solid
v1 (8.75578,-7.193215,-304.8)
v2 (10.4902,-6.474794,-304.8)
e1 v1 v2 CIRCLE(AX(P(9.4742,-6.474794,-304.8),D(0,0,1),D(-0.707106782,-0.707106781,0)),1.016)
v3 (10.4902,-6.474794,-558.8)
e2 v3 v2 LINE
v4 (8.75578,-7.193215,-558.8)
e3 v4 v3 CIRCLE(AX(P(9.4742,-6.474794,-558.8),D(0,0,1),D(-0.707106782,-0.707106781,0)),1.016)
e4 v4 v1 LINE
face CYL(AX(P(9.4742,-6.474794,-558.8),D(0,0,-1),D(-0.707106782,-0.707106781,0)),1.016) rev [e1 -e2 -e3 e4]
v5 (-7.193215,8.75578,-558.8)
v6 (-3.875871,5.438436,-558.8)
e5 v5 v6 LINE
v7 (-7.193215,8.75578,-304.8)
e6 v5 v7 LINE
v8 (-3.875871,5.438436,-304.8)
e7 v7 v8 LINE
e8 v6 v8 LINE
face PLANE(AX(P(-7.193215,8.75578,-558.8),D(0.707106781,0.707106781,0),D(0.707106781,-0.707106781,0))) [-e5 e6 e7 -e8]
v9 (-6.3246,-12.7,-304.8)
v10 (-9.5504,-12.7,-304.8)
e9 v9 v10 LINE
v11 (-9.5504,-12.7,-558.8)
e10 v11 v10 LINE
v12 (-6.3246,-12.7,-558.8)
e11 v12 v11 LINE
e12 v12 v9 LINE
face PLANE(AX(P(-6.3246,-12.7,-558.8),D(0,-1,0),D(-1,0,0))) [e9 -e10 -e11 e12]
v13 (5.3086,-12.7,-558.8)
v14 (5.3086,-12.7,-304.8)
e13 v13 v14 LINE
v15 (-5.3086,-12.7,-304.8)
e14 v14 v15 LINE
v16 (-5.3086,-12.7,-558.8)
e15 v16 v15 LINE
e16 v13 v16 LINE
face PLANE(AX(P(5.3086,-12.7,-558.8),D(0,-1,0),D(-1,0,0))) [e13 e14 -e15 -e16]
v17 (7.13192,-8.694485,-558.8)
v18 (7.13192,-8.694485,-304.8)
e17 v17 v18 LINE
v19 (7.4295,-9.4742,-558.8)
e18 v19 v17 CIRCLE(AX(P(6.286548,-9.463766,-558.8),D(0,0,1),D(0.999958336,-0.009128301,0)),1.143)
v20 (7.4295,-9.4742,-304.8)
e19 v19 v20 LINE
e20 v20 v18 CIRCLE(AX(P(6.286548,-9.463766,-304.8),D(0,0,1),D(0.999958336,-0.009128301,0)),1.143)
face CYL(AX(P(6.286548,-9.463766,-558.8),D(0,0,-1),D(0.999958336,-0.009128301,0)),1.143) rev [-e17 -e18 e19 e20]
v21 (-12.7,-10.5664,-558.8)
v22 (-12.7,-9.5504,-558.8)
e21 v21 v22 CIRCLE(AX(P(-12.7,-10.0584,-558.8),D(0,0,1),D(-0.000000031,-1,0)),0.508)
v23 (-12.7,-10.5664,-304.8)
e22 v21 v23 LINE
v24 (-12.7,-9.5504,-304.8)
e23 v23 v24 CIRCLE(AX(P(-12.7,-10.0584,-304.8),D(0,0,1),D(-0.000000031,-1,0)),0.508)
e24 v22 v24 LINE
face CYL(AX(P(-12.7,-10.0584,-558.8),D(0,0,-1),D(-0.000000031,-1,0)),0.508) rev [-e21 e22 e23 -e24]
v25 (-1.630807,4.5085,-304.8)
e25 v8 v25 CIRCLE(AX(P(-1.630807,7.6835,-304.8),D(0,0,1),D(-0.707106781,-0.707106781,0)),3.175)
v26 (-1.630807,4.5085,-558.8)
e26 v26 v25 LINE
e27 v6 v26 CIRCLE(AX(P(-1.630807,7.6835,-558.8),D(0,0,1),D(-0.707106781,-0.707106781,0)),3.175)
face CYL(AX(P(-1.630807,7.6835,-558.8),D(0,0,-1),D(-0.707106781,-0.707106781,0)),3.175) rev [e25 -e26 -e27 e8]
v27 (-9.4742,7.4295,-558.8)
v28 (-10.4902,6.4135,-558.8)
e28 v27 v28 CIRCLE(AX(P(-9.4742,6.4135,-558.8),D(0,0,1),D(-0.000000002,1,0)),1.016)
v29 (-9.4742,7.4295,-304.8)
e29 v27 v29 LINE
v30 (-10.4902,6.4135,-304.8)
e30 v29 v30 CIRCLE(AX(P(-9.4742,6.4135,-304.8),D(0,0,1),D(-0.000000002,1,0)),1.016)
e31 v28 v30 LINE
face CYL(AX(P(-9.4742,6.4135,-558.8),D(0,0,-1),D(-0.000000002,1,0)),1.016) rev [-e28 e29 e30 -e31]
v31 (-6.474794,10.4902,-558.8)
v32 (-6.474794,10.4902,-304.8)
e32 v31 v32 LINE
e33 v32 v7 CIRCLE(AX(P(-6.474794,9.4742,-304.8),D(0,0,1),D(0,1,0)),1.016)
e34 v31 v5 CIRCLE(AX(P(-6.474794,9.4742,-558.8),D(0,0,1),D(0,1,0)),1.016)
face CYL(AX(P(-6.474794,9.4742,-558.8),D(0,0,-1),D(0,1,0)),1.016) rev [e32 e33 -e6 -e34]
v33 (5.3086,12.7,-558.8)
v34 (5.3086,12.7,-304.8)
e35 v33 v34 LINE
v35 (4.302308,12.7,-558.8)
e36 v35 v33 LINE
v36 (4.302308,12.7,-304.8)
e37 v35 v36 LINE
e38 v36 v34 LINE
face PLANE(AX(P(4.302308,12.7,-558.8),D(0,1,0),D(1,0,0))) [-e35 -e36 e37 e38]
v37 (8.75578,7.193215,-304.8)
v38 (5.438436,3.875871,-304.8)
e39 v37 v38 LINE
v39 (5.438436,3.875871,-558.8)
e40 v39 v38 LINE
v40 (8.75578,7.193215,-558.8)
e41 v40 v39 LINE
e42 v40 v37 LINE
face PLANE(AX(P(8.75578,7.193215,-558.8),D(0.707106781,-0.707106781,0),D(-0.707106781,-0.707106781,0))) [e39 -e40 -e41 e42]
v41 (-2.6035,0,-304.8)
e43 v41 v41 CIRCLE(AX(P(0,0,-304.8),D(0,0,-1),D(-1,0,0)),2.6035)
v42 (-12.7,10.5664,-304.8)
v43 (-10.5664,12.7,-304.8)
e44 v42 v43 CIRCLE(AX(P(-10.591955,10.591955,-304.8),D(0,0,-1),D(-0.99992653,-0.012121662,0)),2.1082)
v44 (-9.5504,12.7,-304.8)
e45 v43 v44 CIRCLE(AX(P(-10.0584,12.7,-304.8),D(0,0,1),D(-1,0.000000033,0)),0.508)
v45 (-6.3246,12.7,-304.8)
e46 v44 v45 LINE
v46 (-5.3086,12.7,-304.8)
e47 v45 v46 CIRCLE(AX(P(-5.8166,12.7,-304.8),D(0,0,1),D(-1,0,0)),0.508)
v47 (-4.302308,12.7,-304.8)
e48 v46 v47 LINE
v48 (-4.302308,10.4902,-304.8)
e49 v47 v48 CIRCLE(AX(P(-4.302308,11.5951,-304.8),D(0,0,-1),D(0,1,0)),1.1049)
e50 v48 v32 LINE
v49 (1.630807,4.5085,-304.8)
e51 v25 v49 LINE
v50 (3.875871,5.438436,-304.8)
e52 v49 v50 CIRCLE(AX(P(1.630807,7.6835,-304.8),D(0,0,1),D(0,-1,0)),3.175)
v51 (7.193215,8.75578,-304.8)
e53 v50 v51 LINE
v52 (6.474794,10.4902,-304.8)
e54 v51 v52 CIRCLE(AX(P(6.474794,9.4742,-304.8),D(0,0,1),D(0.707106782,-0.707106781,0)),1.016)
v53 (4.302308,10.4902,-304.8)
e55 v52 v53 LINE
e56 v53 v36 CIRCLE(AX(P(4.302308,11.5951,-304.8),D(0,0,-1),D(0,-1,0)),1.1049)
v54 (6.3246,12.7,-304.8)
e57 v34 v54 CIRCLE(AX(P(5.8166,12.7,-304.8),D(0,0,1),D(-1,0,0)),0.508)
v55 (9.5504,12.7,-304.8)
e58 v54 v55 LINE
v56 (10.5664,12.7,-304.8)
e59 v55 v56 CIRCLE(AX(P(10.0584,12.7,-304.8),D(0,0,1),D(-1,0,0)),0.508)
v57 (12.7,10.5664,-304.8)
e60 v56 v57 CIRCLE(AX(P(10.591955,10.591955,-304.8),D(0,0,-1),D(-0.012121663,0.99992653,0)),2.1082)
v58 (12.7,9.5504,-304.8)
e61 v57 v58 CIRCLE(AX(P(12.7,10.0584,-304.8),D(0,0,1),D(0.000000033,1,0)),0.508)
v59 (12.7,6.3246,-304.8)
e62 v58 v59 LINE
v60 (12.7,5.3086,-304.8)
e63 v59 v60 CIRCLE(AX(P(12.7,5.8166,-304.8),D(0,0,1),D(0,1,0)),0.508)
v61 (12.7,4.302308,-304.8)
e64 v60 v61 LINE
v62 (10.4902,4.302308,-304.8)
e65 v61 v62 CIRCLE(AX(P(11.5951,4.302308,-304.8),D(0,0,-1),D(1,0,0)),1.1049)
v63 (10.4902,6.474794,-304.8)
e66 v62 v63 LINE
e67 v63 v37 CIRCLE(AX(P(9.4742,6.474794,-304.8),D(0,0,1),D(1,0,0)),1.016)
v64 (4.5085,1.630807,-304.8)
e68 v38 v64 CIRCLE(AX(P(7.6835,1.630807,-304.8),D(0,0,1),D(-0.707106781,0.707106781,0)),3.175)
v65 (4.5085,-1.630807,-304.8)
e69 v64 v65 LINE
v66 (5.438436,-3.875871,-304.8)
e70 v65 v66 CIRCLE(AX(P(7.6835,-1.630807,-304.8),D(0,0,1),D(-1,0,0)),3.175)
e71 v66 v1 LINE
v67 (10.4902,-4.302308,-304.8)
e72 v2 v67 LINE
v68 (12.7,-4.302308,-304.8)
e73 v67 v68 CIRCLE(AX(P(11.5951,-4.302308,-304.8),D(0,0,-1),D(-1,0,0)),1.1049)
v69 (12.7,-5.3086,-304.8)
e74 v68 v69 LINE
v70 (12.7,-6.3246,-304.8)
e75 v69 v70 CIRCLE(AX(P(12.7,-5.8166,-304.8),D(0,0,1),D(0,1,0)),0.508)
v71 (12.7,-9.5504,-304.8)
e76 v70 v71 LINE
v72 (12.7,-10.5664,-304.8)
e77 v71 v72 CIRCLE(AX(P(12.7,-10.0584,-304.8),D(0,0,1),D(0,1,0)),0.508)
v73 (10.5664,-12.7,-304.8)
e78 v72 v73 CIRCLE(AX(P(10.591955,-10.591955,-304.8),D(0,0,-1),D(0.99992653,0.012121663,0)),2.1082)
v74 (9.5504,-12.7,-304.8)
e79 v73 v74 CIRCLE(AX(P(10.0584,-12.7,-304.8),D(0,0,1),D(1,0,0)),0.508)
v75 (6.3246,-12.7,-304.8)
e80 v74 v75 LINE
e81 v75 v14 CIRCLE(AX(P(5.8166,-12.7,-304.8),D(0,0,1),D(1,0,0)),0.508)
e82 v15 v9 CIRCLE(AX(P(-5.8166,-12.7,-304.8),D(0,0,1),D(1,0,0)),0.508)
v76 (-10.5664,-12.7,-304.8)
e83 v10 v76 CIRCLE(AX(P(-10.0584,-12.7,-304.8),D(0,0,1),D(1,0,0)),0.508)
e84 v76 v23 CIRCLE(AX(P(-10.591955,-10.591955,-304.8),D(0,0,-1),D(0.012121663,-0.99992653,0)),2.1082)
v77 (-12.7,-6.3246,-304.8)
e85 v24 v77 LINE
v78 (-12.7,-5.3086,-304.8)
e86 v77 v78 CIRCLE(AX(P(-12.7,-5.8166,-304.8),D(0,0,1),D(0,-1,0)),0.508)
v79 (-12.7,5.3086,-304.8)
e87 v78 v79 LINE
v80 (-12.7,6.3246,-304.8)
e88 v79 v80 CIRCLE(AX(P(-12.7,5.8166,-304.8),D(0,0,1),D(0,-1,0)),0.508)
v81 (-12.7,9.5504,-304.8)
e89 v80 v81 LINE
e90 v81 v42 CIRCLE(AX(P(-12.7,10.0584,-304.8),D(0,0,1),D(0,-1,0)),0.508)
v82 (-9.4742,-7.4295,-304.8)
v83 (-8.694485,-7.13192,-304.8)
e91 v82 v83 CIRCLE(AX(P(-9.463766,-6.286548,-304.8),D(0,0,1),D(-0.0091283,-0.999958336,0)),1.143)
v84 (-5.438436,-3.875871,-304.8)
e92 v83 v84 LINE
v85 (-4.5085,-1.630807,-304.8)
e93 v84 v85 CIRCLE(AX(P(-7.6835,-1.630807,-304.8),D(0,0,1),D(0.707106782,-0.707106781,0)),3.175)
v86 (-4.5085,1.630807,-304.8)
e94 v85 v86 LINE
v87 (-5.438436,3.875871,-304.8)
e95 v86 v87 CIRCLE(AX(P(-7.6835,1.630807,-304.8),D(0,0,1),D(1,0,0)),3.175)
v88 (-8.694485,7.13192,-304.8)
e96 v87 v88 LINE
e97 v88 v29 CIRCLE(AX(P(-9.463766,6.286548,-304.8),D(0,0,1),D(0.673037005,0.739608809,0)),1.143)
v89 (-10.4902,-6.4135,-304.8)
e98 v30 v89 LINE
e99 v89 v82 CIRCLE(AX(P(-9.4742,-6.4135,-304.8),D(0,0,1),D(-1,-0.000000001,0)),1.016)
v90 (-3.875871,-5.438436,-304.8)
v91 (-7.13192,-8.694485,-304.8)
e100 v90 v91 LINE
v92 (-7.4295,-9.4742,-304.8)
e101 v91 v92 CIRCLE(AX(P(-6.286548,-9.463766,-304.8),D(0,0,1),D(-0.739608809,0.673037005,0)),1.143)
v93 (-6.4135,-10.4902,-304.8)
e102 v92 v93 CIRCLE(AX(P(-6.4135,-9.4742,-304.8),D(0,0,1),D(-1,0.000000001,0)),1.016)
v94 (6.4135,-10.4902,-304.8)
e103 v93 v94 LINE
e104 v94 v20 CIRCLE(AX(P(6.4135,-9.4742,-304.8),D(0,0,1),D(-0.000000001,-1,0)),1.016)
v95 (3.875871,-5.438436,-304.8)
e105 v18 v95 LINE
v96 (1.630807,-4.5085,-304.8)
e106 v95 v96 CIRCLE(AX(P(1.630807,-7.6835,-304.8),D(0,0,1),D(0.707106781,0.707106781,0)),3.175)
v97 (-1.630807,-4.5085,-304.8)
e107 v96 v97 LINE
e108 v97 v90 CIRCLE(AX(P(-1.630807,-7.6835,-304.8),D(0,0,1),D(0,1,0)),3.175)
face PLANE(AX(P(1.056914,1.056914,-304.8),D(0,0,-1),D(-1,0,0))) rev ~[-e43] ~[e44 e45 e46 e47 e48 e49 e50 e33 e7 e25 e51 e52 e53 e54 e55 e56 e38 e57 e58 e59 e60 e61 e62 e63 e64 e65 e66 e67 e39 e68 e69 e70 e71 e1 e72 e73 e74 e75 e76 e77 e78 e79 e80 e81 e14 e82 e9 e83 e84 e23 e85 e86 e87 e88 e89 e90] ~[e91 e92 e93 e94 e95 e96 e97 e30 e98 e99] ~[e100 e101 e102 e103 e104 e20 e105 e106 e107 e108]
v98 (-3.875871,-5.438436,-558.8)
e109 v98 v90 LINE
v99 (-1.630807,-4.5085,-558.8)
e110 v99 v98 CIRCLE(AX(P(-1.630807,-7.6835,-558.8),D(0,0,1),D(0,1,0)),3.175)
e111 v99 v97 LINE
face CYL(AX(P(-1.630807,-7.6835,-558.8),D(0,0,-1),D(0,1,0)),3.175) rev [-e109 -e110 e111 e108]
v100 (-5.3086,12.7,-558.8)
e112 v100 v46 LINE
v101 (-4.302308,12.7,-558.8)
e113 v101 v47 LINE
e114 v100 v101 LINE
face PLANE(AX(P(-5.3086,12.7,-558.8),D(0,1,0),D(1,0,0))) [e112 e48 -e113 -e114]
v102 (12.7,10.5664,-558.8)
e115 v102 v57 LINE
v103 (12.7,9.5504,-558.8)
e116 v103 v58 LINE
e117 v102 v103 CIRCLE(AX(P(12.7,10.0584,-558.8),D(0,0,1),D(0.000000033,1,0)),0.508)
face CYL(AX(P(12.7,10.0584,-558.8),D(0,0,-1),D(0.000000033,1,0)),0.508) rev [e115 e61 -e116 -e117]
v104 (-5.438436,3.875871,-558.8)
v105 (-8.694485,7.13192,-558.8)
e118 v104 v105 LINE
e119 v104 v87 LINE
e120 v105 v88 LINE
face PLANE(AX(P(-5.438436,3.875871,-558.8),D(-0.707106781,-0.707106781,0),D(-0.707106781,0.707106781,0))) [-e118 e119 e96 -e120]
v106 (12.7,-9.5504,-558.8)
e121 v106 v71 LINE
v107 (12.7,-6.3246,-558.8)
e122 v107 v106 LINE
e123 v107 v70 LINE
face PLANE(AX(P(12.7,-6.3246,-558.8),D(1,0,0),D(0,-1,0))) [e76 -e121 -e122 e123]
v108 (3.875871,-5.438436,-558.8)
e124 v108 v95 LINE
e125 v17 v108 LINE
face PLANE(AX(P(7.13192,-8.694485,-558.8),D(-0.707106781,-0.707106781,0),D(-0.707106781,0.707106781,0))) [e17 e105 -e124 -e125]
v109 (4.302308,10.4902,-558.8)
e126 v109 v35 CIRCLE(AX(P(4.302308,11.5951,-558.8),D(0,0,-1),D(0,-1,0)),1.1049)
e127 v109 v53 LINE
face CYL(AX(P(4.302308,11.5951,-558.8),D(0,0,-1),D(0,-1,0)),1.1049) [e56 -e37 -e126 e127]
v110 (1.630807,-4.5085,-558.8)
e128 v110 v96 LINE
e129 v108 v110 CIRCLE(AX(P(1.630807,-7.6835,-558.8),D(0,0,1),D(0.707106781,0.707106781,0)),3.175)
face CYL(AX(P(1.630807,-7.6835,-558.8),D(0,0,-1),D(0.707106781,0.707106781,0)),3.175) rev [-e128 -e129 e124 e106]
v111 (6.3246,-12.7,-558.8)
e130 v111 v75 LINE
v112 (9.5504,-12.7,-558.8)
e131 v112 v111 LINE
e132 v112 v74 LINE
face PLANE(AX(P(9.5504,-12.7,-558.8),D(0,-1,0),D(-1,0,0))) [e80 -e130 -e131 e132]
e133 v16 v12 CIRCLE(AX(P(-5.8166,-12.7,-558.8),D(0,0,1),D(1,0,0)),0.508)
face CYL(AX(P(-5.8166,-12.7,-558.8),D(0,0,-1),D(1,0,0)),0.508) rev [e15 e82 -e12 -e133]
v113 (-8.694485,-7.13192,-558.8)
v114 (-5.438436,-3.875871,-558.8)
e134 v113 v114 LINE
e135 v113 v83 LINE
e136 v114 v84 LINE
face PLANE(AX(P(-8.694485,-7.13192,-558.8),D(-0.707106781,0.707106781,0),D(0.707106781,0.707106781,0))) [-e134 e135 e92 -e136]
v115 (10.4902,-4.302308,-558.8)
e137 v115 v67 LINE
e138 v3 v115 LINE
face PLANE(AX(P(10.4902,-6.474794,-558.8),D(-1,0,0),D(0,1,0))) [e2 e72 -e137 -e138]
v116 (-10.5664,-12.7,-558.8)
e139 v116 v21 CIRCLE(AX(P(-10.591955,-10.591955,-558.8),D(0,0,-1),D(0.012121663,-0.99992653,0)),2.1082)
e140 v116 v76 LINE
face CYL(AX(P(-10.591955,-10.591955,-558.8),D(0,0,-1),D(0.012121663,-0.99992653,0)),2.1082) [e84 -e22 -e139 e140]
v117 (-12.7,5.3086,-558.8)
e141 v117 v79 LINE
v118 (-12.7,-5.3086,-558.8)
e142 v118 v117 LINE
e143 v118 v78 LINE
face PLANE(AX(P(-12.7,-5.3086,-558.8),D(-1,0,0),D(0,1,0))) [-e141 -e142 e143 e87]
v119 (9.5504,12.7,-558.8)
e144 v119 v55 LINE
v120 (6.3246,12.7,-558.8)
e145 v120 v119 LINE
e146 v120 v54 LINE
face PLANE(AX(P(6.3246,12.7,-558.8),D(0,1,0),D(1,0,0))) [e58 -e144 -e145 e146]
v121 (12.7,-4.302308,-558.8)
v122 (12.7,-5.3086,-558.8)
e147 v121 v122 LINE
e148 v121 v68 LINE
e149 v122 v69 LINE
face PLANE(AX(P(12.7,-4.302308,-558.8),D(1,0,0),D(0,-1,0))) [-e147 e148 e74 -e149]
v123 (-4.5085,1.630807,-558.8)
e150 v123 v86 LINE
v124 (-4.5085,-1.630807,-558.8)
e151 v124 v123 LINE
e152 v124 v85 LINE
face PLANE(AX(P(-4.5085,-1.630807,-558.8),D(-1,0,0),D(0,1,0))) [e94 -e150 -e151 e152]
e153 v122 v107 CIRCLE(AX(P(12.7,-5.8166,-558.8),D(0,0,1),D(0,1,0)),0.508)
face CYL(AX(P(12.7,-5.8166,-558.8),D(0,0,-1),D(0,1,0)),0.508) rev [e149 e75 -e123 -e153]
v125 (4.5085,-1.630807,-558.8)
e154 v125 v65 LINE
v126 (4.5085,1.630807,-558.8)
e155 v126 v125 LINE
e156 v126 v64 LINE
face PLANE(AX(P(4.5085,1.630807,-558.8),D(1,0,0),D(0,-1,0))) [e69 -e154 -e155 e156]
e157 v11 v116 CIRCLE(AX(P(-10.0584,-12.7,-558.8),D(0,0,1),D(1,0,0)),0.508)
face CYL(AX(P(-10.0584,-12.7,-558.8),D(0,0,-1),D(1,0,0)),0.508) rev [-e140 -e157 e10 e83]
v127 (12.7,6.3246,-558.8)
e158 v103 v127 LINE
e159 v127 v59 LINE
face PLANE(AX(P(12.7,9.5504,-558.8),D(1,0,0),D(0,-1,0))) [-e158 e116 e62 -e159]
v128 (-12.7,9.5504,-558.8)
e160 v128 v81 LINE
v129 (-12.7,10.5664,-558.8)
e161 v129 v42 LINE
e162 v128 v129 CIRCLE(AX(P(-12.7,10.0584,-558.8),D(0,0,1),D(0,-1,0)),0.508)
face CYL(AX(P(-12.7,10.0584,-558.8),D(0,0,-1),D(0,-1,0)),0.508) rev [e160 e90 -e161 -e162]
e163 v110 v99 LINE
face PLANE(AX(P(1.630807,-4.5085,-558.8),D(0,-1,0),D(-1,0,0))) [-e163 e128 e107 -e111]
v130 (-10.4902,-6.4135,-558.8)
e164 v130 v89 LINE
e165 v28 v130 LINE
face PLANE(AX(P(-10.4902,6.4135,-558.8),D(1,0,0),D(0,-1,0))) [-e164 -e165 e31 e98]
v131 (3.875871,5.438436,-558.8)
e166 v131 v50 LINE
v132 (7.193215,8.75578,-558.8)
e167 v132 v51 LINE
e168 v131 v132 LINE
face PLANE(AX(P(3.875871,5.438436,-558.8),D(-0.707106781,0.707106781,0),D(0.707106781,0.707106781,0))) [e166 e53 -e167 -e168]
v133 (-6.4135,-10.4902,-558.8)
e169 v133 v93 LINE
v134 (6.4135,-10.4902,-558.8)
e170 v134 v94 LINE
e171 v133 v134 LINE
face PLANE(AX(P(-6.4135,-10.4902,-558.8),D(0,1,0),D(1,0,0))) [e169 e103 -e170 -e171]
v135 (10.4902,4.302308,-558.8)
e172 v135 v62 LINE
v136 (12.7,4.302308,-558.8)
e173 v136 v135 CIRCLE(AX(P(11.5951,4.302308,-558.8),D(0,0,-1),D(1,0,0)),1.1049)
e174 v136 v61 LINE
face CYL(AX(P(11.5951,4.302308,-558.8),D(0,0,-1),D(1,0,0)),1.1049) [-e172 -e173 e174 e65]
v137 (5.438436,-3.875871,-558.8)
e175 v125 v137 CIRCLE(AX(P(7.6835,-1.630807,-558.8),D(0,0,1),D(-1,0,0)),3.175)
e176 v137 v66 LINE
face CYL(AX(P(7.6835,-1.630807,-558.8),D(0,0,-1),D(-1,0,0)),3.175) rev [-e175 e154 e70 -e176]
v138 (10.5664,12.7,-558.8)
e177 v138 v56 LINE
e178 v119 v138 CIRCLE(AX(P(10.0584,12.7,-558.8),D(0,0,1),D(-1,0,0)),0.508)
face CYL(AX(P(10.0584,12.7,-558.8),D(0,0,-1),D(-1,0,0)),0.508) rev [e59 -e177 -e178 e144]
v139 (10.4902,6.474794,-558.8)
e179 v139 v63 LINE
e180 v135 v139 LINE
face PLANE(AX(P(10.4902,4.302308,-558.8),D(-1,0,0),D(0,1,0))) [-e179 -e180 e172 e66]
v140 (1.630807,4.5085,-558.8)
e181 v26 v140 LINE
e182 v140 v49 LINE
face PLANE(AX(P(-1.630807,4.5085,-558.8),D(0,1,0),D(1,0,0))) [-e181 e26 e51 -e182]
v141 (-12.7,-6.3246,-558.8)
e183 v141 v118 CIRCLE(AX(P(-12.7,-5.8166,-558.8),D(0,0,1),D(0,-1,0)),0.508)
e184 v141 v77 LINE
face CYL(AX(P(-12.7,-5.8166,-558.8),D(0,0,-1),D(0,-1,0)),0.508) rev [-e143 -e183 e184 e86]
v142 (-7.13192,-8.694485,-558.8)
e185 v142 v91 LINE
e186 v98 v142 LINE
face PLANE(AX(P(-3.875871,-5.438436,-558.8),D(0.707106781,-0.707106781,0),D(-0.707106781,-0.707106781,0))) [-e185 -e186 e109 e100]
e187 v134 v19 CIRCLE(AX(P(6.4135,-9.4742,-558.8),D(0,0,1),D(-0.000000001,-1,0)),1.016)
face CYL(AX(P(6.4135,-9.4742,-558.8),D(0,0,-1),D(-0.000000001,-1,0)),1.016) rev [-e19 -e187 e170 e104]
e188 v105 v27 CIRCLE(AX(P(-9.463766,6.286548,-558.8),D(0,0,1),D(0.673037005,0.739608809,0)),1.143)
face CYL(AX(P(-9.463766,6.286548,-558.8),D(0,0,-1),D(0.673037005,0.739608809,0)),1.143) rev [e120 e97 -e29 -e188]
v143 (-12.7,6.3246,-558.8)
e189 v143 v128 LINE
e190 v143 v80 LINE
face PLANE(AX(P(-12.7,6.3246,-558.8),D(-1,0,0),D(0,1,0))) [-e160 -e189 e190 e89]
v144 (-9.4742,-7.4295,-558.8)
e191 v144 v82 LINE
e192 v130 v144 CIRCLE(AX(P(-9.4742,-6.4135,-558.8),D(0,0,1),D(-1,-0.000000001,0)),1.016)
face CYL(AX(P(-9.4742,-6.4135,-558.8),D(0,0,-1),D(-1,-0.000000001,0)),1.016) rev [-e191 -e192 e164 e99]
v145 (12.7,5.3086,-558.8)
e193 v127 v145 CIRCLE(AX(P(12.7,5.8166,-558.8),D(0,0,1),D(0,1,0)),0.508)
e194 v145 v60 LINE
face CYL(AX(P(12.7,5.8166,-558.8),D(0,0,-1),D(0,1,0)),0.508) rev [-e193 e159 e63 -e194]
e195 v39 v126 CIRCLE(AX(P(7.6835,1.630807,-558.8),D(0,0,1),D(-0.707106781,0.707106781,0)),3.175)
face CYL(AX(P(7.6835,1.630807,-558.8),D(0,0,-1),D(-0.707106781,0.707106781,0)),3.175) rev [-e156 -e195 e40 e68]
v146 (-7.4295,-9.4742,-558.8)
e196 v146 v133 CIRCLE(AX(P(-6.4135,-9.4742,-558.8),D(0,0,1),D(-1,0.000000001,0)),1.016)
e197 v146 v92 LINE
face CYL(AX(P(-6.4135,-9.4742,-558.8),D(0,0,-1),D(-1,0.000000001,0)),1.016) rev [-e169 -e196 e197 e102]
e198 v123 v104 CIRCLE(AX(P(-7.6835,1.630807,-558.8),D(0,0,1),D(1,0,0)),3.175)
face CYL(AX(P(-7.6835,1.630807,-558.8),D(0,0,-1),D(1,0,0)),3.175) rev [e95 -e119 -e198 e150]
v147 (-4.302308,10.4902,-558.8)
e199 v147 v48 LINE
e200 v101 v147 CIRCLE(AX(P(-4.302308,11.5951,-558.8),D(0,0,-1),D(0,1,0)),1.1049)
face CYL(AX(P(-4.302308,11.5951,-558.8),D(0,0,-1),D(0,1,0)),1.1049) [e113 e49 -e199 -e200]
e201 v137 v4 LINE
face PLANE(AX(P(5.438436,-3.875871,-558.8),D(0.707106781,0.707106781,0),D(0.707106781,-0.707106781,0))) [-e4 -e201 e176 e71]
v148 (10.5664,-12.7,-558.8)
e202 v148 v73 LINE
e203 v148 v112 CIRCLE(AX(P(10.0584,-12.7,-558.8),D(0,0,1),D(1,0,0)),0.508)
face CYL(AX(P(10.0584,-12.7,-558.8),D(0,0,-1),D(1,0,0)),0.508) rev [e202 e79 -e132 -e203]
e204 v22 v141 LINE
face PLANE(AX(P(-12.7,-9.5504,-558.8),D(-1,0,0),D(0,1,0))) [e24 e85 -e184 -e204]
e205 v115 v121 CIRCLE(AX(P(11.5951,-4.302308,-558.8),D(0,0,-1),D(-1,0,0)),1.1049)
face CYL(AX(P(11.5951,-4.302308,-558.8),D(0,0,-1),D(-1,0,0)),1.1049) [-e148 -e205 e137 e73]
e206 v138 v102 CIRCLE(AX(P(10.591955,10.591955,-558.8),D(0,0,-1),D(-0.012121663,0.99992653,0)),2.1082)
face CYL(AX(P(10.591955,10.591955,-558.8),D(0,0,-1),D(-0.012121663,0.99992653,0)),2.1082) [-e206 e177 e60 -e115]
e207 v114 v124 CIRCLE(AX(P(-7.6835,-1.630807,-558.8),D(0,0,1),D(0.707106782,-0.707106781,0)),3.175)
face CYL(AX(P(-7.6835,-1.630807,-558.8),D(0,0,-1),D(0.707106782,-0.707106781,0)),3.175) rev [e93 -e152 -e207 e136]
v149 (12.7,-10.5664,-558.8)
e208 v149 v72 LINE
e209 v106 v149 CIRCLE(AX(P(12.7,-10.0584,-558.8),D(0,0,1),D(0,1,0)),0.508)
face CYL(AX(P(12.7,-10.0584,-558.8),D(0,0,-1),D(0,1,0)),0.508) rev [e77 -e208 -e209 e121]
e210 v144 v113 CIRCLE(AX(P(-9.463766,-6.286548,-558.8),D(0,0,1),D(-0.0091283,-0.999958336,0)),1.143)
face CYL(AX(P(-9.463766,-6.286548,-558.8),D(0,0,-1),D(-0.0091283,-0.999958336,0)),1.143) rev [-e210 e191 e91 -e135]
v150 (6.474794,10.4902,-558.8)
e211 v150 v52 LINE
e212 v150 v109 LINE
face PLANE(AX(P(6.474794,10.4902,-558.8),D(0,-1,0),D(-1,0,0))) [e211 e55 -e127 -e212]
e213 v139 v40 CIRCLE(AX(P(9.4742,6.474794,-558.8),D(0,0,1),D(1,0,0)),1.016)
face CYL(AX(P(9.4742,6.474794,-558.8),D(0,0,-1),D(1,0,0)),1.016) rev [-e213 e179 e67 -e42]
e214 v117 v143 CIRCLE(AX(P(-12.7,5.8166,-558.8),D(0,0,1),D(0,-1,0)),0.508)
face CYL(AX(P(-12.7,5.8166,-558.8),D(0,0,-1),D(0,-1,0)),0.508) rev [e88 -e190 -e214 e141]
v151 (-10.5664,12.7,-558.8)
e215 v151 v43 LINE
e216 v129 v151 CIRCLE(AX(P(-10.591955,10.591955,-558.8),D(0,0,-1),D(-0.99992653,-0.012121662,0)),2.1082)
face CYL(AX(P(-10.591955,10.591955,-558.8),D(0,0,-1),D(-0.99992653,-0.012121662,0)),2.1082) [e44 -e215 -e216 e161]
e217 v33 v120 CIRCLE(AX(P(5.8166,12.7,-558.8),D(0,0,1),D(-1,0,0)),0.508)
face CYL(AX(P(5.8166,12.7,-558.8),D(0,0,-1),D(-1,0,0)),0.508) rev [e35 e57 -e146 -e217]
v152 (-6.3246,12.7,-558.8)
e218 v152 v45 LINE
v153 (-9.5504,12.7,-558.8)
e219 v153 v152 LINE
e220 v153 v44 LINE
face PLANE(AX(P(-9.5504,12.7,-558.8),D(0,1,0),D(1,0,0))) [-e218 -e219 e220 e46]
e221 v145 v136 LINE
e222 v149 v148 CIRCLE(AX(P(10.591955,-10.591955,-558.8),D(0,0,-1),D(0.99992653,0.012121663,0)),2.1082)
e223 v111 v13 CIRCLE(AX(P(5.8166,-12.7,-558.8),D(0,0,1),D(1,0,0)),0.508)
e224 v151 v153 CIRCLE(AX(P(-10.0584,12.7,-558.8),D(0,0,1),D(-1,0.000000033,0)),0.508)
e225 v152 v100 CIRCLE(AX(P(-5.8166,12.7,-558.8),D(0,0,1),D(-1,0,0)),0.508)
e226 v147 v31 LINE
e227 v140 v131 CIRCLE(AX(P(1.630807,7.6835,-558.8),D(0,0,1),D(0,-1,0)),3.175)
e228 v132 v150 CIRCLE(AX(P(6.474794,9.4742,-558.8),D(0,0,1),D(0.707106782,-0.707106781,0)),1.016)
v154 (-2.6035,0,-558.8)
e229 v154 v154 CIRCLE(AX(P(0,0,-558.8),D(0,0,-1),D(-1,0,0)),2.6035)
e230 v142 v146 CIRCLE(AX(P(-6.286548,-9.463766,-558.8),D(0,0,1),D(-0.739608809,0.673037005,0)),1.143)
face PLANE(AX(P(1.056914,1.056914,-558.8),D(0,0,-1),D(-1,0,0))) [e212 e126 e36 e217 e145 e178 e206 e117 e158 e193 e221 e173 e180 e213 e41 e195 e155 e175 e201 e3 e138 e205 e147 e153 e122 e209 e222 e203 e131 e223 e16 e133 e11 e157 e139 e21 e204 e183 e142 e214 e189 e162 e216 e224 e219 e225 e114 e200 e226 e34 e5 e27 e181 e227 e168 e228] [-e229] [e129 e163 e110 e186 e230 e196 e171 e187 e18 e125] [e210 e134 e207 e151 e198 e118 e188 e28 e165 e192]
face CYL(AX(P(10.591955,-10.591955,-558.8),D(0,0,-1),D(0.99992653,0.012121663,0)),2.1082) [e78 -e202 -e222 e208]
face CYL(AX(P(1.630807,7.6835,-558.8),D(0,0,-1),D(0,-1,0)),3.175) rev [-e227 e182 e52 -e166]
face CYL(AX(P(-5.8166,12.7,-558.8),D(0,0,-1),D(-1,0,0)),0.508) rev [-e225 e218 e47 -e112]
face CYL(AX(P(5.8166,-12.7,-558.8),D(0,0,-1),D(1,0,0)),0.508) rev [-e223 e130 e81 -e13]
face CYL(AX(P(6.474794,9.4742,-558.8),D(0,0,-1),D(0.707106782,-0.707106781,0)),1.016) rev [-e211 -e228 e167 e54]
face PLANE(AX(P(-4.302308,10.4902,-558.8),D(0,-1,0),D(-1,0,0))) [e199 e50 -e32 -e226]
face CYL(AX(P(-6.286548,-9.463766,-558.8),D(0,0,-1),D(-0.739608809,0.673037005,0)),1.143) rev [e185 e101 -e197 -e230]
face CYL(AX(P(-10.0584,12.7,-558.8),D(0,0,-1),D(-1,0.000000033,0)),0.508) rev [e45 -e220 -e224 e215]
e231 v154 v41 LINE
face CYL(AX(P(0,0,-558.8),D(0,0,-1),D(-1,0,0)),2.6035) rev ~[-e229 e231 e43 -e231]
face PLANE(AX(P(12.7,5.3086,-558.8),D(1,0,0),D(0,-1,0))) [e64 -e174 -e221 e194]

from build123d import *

# Parameters (mm, degrees)
SKETCH1_R           = 2.6035
BOSS_EXTRUDE1_DEPTH = 254


with BuildPart() as part:
    # Sketch1 → Boss-Extrude1 (new body)
    with BuildSketch(Plane(origin=(0, 0, -558.8), x_dir=(-1, 0, 0), z_dir=(0, 0, -1))):
        with BuildLine():
            Line((12.699999967, -9.5504), (12.699999967, -6.3246))
            ThreePointArc((12.699999967, -6.3246), (12.191999967, -5.8166), (12.699999967, -5.3086))
            Line((12.699999967, -5.3086), (12.699999967, 5.3086))
            ThreePointArc((12.699999967, 5.3086), (12.191999967, 5.8166), (12.699999967, 6.3246))
            Line((12.699999967, 6.3246), (12.699999967, 9.550399967))
            ThreePointArc((12.699999967, 9.550399967), (12.191999934, 10.058400016), (12.699999999, 10.566400033))
            ThreePointArc((12.699999999, 10.566400033), (12.082677404, 12.082677438), (10.566399999, 12.700000033))
            ThreePointArc((10.566399999, 12.700000033), (10.058400007, 12.192000016), (9.550399999, 12.700000016))
            Line((9.550399999, 12.700000016), (6.324599999, 12.700000016))
            ThreePointArc((6.324599999, 12.700000016), (5.816599999, 12.192000016), (5.308599999, 12.700000016))
            Line((5.308599999, 12.700000016), (4.302307888, 12.700000016))
            ThreePointArc((4.302307888, 12.700000016), (3.197407888, 11.595100016), (4.302307888, 10.490200016))
            Line((4.302307888, 10.490200016), (6.474794464, 10.490200016))
            ThreePointArc((6.474794464, 10.490200016), (7.413456072, 9.863006381), (7.193214956, 8.755779521))
            Line((7.193214956, 8.755779521), (3.875871421, 5.438435986))
            ThreePointArc((3.875871421, 5.438435986), (2.845827288, 4.7501825), (1.63080739, 4.508500016))
            Line((1.63080739, 4.508500016), (-1.630807376, 4.508500016))
            ThreePointArc((-1.630807376, 4.508500016), (-2.845827273, 4.7501825), (-3.875871406, 5.438435986))
            Line((-3.875871406, 5.438435986), (-7.193214947, 8.755779526))
            ThreePointArc((-7.193214947, 8.755779526), (-7.413456062, 9.863006383), (-6.474794457, 10.490200016))
            Line((-6.474794457, 10.490200016), (-4.302307919, 10.490200016))
            ThreePointArc((-4.302307919, 10.490200016), (-3.197407919, 11.595100016), (-4.302307919, 12.700000016))
            Line((-4.302307919, 12.700000016), (-5.308600001, 12.700000016))
            ThreePointArc((-5.308600001, 12.700000016), (-5.816600001, 12.192000016), (-6.324600001, 12.700000016))
            Line((-6.324600001, 12.700000016), (-9.550400001, 12.700000016))
            ThreePointArc((-9.550400001, 12.700000016), (-10.058400001, 12.192000016), (-10.566400001, 12.700000016))
            ThreePointArc((-10.566400001, 12.700000016), (-12.082677418, 12.082677417), (-12.700000017, 10.5664))
            ThreePointArc((-12.700000017, 10.5664), (-12.192, 10.058400008), (-12.7, 9.5504))
            Line((-12.7, 9.5504), (-12.7, 6.3246))
            ThreePointArc((-12.7, 6.3246), (-12.192, 5.8166), (-12.7, 5.3086))
            Line((-12.7, 5.3086), (-12.7, 4.302307889))
            ThreePointArc((-12.7, 4.302307889), (-11.5951, 3.197407889), (-10.4902, 4.302307889))
            Line((-10.4902, 4.302307889), (-10.4902, 6.474794456))
            ThreePointArc((-10.4902, 6.474794456), (-9.863006367, 7.413456061), (-8.75577951, 7.193214945))
            Line((-8.75577951, 7.193214945), (-5.43843597, 3.875871405))
            ThreePointArc((-5.43843597, 3.875871405), (-4.750182484, 2.845827272), (-4.5085, 1.630807374))
            Line((-4.5085, 1.630807374), (-4.5085, -1.630807374))
            ThreePointArc((-4.5085, -1.630807374), (-4.750182484, -2.845827272), (-5.43843597, -3.875871405))
            Line((-5.43843597, -3.875871405), (-8.75577951, -7.193214945))
            ThreePointArc((-8.75577951, -7.193214945), (-9.863006367, -7.413456061), (-10.4902, -6.474794456))
            Line((-10.4902, -6.474794456), (-10.4902, -4.302307918))
            ThreePointArc((-10.4902, -4.302307918), (-11.5951, -3.197407918), (-12.7, -4.302307918))
            Line((-12.7, -4.302307918), (-12.7, -5.3086))
            ThreePointArc((-12.7, -5.3086), (-12.192, -5.8166), (-12.7, -6.3246))
            Line((-12.7, -6.3246), (-12.7, -9.5504))
            ThreePointArc((-12.7, -9.5504), (-12.192, -10.058400008), (-12.700000017, -10.5664))
            ThreePointArc((-12.700000017, -10.5664), (-12.082677422, -12.082677406), (-10.566400017, -12.7))
            ThreePointArc((-10.566400017, -12.7), (-10.058400017, -12.192), (-9.550400017, -12.7))
            Line((-9.550400017, -12.7), (-6.324600017, -12.7))
            ThreePointArc((-6.324600017, -12.7), (-5.816600017, -12.192), (-5.308600017, -12.7))
            Line((-5.308600017, -12.7), (5.308599983, -12.7))
            ThreePointArc((5.308599983, -12.7), (5.816599983, -12.192), (6.324599983, -12.7))
            Line((6.324599983, -12.7), (9.550399983, -12.7))
            ThreePointArc((9.550399983, -12.7), (10.058399983, -12.192), (10.566399983, -12.7))
            ThreePointArc((10.566399983, -12.7), (12.082677389, -12.082677406), (12.699999983, -10.5664))
            ThreePointArc((12.699999983, -10.5664), (12.191999967, -10.058400008), (12.699999967, -9.5504))
        make_face()
        Circle(SKETCH1_R, mode=Mode.SUBTRACT)
        with BuildLine():
            Line((3.875871405, -5.43843597), (7.13192049, -8.694485055))
            ThreePointArc((7.13192049, -8.694485055), (7.35441848, -9.056211656), (7.4295, -9.4742))
            ThreePointArc((7.4295, -9.4742), (7.13192049, -10.19262049), (6.4135, -10.4902))
            Line((6.4135, -10.4902), (-6.4135, -10.4902))
            ThreePointArc((-6.4135, -10.4902), (-7.13192049, -10.19262049), (-7.4295, -9.4742))
            ThreePointArc((-7.4295, -9.4742), (-7.35441848, -9.056211656), (-7.13192049, -8.694485055))
            Line((-7.13192049, -8.694485055), (-3.875871405, -5.43843597))
            ThreePointArc((-3.875871405, -5.43843597), (-2.845827272, -4.750182484), (-1.630807374, -4.5085))
            Line((-1.630807374, -4.5085), (1.630807374, -4.5085))
            ThreePointArc((1.630807374, -4.5085), (2.845827272, -4.750182484), (3.875871405, -5.43843597))
        make_face(mode=Mode.SUBTRACT)
        with BuildLine():
            Line((10.490199999, 6.4135), (10.490199999, -6.413499984))
            ThreePointArc((10.490199999, -6.413499984), (10.192620488, -7.131920474), (9.474199999, -7.429499984))
            ThreePointArc((9.474199999, -7.429499984), (9.056211655, -7.354418464), (8.694485053, -7.131920474))
            Line((8.694485053, -7.131920474), (5.438435968, -3.875871389))
            ThreePointArc((5.438435968, -3.875871389), (4.750182483, -2.845827256), (4.508499999, -1.630807359))
            Line((4.508499999, -1.630807359), (4.508499999, 1.630807373))
            ThreePointArc((4.508499999, 1.630807373), (4.750182483, 2.845827271), (5.438435968, 3.875871403))
            Line((5.438435968, 3.875871403), (8.694485055, 7.13192049))
            ThreePointArc((8.694485055, 7.13192049), (9.056211656, 7.35441848), (9.4742, 7.4295))
            ThreePointArc((9.4742, 7.4295), (10.192620489, 7.131920489), (10.490199999, 6.4135))
        make_face(mode=Mode.SUBTRACT)
    extrude(amount=-BOSS_EXTRUDE1_DEPTH)


solid = part.part
